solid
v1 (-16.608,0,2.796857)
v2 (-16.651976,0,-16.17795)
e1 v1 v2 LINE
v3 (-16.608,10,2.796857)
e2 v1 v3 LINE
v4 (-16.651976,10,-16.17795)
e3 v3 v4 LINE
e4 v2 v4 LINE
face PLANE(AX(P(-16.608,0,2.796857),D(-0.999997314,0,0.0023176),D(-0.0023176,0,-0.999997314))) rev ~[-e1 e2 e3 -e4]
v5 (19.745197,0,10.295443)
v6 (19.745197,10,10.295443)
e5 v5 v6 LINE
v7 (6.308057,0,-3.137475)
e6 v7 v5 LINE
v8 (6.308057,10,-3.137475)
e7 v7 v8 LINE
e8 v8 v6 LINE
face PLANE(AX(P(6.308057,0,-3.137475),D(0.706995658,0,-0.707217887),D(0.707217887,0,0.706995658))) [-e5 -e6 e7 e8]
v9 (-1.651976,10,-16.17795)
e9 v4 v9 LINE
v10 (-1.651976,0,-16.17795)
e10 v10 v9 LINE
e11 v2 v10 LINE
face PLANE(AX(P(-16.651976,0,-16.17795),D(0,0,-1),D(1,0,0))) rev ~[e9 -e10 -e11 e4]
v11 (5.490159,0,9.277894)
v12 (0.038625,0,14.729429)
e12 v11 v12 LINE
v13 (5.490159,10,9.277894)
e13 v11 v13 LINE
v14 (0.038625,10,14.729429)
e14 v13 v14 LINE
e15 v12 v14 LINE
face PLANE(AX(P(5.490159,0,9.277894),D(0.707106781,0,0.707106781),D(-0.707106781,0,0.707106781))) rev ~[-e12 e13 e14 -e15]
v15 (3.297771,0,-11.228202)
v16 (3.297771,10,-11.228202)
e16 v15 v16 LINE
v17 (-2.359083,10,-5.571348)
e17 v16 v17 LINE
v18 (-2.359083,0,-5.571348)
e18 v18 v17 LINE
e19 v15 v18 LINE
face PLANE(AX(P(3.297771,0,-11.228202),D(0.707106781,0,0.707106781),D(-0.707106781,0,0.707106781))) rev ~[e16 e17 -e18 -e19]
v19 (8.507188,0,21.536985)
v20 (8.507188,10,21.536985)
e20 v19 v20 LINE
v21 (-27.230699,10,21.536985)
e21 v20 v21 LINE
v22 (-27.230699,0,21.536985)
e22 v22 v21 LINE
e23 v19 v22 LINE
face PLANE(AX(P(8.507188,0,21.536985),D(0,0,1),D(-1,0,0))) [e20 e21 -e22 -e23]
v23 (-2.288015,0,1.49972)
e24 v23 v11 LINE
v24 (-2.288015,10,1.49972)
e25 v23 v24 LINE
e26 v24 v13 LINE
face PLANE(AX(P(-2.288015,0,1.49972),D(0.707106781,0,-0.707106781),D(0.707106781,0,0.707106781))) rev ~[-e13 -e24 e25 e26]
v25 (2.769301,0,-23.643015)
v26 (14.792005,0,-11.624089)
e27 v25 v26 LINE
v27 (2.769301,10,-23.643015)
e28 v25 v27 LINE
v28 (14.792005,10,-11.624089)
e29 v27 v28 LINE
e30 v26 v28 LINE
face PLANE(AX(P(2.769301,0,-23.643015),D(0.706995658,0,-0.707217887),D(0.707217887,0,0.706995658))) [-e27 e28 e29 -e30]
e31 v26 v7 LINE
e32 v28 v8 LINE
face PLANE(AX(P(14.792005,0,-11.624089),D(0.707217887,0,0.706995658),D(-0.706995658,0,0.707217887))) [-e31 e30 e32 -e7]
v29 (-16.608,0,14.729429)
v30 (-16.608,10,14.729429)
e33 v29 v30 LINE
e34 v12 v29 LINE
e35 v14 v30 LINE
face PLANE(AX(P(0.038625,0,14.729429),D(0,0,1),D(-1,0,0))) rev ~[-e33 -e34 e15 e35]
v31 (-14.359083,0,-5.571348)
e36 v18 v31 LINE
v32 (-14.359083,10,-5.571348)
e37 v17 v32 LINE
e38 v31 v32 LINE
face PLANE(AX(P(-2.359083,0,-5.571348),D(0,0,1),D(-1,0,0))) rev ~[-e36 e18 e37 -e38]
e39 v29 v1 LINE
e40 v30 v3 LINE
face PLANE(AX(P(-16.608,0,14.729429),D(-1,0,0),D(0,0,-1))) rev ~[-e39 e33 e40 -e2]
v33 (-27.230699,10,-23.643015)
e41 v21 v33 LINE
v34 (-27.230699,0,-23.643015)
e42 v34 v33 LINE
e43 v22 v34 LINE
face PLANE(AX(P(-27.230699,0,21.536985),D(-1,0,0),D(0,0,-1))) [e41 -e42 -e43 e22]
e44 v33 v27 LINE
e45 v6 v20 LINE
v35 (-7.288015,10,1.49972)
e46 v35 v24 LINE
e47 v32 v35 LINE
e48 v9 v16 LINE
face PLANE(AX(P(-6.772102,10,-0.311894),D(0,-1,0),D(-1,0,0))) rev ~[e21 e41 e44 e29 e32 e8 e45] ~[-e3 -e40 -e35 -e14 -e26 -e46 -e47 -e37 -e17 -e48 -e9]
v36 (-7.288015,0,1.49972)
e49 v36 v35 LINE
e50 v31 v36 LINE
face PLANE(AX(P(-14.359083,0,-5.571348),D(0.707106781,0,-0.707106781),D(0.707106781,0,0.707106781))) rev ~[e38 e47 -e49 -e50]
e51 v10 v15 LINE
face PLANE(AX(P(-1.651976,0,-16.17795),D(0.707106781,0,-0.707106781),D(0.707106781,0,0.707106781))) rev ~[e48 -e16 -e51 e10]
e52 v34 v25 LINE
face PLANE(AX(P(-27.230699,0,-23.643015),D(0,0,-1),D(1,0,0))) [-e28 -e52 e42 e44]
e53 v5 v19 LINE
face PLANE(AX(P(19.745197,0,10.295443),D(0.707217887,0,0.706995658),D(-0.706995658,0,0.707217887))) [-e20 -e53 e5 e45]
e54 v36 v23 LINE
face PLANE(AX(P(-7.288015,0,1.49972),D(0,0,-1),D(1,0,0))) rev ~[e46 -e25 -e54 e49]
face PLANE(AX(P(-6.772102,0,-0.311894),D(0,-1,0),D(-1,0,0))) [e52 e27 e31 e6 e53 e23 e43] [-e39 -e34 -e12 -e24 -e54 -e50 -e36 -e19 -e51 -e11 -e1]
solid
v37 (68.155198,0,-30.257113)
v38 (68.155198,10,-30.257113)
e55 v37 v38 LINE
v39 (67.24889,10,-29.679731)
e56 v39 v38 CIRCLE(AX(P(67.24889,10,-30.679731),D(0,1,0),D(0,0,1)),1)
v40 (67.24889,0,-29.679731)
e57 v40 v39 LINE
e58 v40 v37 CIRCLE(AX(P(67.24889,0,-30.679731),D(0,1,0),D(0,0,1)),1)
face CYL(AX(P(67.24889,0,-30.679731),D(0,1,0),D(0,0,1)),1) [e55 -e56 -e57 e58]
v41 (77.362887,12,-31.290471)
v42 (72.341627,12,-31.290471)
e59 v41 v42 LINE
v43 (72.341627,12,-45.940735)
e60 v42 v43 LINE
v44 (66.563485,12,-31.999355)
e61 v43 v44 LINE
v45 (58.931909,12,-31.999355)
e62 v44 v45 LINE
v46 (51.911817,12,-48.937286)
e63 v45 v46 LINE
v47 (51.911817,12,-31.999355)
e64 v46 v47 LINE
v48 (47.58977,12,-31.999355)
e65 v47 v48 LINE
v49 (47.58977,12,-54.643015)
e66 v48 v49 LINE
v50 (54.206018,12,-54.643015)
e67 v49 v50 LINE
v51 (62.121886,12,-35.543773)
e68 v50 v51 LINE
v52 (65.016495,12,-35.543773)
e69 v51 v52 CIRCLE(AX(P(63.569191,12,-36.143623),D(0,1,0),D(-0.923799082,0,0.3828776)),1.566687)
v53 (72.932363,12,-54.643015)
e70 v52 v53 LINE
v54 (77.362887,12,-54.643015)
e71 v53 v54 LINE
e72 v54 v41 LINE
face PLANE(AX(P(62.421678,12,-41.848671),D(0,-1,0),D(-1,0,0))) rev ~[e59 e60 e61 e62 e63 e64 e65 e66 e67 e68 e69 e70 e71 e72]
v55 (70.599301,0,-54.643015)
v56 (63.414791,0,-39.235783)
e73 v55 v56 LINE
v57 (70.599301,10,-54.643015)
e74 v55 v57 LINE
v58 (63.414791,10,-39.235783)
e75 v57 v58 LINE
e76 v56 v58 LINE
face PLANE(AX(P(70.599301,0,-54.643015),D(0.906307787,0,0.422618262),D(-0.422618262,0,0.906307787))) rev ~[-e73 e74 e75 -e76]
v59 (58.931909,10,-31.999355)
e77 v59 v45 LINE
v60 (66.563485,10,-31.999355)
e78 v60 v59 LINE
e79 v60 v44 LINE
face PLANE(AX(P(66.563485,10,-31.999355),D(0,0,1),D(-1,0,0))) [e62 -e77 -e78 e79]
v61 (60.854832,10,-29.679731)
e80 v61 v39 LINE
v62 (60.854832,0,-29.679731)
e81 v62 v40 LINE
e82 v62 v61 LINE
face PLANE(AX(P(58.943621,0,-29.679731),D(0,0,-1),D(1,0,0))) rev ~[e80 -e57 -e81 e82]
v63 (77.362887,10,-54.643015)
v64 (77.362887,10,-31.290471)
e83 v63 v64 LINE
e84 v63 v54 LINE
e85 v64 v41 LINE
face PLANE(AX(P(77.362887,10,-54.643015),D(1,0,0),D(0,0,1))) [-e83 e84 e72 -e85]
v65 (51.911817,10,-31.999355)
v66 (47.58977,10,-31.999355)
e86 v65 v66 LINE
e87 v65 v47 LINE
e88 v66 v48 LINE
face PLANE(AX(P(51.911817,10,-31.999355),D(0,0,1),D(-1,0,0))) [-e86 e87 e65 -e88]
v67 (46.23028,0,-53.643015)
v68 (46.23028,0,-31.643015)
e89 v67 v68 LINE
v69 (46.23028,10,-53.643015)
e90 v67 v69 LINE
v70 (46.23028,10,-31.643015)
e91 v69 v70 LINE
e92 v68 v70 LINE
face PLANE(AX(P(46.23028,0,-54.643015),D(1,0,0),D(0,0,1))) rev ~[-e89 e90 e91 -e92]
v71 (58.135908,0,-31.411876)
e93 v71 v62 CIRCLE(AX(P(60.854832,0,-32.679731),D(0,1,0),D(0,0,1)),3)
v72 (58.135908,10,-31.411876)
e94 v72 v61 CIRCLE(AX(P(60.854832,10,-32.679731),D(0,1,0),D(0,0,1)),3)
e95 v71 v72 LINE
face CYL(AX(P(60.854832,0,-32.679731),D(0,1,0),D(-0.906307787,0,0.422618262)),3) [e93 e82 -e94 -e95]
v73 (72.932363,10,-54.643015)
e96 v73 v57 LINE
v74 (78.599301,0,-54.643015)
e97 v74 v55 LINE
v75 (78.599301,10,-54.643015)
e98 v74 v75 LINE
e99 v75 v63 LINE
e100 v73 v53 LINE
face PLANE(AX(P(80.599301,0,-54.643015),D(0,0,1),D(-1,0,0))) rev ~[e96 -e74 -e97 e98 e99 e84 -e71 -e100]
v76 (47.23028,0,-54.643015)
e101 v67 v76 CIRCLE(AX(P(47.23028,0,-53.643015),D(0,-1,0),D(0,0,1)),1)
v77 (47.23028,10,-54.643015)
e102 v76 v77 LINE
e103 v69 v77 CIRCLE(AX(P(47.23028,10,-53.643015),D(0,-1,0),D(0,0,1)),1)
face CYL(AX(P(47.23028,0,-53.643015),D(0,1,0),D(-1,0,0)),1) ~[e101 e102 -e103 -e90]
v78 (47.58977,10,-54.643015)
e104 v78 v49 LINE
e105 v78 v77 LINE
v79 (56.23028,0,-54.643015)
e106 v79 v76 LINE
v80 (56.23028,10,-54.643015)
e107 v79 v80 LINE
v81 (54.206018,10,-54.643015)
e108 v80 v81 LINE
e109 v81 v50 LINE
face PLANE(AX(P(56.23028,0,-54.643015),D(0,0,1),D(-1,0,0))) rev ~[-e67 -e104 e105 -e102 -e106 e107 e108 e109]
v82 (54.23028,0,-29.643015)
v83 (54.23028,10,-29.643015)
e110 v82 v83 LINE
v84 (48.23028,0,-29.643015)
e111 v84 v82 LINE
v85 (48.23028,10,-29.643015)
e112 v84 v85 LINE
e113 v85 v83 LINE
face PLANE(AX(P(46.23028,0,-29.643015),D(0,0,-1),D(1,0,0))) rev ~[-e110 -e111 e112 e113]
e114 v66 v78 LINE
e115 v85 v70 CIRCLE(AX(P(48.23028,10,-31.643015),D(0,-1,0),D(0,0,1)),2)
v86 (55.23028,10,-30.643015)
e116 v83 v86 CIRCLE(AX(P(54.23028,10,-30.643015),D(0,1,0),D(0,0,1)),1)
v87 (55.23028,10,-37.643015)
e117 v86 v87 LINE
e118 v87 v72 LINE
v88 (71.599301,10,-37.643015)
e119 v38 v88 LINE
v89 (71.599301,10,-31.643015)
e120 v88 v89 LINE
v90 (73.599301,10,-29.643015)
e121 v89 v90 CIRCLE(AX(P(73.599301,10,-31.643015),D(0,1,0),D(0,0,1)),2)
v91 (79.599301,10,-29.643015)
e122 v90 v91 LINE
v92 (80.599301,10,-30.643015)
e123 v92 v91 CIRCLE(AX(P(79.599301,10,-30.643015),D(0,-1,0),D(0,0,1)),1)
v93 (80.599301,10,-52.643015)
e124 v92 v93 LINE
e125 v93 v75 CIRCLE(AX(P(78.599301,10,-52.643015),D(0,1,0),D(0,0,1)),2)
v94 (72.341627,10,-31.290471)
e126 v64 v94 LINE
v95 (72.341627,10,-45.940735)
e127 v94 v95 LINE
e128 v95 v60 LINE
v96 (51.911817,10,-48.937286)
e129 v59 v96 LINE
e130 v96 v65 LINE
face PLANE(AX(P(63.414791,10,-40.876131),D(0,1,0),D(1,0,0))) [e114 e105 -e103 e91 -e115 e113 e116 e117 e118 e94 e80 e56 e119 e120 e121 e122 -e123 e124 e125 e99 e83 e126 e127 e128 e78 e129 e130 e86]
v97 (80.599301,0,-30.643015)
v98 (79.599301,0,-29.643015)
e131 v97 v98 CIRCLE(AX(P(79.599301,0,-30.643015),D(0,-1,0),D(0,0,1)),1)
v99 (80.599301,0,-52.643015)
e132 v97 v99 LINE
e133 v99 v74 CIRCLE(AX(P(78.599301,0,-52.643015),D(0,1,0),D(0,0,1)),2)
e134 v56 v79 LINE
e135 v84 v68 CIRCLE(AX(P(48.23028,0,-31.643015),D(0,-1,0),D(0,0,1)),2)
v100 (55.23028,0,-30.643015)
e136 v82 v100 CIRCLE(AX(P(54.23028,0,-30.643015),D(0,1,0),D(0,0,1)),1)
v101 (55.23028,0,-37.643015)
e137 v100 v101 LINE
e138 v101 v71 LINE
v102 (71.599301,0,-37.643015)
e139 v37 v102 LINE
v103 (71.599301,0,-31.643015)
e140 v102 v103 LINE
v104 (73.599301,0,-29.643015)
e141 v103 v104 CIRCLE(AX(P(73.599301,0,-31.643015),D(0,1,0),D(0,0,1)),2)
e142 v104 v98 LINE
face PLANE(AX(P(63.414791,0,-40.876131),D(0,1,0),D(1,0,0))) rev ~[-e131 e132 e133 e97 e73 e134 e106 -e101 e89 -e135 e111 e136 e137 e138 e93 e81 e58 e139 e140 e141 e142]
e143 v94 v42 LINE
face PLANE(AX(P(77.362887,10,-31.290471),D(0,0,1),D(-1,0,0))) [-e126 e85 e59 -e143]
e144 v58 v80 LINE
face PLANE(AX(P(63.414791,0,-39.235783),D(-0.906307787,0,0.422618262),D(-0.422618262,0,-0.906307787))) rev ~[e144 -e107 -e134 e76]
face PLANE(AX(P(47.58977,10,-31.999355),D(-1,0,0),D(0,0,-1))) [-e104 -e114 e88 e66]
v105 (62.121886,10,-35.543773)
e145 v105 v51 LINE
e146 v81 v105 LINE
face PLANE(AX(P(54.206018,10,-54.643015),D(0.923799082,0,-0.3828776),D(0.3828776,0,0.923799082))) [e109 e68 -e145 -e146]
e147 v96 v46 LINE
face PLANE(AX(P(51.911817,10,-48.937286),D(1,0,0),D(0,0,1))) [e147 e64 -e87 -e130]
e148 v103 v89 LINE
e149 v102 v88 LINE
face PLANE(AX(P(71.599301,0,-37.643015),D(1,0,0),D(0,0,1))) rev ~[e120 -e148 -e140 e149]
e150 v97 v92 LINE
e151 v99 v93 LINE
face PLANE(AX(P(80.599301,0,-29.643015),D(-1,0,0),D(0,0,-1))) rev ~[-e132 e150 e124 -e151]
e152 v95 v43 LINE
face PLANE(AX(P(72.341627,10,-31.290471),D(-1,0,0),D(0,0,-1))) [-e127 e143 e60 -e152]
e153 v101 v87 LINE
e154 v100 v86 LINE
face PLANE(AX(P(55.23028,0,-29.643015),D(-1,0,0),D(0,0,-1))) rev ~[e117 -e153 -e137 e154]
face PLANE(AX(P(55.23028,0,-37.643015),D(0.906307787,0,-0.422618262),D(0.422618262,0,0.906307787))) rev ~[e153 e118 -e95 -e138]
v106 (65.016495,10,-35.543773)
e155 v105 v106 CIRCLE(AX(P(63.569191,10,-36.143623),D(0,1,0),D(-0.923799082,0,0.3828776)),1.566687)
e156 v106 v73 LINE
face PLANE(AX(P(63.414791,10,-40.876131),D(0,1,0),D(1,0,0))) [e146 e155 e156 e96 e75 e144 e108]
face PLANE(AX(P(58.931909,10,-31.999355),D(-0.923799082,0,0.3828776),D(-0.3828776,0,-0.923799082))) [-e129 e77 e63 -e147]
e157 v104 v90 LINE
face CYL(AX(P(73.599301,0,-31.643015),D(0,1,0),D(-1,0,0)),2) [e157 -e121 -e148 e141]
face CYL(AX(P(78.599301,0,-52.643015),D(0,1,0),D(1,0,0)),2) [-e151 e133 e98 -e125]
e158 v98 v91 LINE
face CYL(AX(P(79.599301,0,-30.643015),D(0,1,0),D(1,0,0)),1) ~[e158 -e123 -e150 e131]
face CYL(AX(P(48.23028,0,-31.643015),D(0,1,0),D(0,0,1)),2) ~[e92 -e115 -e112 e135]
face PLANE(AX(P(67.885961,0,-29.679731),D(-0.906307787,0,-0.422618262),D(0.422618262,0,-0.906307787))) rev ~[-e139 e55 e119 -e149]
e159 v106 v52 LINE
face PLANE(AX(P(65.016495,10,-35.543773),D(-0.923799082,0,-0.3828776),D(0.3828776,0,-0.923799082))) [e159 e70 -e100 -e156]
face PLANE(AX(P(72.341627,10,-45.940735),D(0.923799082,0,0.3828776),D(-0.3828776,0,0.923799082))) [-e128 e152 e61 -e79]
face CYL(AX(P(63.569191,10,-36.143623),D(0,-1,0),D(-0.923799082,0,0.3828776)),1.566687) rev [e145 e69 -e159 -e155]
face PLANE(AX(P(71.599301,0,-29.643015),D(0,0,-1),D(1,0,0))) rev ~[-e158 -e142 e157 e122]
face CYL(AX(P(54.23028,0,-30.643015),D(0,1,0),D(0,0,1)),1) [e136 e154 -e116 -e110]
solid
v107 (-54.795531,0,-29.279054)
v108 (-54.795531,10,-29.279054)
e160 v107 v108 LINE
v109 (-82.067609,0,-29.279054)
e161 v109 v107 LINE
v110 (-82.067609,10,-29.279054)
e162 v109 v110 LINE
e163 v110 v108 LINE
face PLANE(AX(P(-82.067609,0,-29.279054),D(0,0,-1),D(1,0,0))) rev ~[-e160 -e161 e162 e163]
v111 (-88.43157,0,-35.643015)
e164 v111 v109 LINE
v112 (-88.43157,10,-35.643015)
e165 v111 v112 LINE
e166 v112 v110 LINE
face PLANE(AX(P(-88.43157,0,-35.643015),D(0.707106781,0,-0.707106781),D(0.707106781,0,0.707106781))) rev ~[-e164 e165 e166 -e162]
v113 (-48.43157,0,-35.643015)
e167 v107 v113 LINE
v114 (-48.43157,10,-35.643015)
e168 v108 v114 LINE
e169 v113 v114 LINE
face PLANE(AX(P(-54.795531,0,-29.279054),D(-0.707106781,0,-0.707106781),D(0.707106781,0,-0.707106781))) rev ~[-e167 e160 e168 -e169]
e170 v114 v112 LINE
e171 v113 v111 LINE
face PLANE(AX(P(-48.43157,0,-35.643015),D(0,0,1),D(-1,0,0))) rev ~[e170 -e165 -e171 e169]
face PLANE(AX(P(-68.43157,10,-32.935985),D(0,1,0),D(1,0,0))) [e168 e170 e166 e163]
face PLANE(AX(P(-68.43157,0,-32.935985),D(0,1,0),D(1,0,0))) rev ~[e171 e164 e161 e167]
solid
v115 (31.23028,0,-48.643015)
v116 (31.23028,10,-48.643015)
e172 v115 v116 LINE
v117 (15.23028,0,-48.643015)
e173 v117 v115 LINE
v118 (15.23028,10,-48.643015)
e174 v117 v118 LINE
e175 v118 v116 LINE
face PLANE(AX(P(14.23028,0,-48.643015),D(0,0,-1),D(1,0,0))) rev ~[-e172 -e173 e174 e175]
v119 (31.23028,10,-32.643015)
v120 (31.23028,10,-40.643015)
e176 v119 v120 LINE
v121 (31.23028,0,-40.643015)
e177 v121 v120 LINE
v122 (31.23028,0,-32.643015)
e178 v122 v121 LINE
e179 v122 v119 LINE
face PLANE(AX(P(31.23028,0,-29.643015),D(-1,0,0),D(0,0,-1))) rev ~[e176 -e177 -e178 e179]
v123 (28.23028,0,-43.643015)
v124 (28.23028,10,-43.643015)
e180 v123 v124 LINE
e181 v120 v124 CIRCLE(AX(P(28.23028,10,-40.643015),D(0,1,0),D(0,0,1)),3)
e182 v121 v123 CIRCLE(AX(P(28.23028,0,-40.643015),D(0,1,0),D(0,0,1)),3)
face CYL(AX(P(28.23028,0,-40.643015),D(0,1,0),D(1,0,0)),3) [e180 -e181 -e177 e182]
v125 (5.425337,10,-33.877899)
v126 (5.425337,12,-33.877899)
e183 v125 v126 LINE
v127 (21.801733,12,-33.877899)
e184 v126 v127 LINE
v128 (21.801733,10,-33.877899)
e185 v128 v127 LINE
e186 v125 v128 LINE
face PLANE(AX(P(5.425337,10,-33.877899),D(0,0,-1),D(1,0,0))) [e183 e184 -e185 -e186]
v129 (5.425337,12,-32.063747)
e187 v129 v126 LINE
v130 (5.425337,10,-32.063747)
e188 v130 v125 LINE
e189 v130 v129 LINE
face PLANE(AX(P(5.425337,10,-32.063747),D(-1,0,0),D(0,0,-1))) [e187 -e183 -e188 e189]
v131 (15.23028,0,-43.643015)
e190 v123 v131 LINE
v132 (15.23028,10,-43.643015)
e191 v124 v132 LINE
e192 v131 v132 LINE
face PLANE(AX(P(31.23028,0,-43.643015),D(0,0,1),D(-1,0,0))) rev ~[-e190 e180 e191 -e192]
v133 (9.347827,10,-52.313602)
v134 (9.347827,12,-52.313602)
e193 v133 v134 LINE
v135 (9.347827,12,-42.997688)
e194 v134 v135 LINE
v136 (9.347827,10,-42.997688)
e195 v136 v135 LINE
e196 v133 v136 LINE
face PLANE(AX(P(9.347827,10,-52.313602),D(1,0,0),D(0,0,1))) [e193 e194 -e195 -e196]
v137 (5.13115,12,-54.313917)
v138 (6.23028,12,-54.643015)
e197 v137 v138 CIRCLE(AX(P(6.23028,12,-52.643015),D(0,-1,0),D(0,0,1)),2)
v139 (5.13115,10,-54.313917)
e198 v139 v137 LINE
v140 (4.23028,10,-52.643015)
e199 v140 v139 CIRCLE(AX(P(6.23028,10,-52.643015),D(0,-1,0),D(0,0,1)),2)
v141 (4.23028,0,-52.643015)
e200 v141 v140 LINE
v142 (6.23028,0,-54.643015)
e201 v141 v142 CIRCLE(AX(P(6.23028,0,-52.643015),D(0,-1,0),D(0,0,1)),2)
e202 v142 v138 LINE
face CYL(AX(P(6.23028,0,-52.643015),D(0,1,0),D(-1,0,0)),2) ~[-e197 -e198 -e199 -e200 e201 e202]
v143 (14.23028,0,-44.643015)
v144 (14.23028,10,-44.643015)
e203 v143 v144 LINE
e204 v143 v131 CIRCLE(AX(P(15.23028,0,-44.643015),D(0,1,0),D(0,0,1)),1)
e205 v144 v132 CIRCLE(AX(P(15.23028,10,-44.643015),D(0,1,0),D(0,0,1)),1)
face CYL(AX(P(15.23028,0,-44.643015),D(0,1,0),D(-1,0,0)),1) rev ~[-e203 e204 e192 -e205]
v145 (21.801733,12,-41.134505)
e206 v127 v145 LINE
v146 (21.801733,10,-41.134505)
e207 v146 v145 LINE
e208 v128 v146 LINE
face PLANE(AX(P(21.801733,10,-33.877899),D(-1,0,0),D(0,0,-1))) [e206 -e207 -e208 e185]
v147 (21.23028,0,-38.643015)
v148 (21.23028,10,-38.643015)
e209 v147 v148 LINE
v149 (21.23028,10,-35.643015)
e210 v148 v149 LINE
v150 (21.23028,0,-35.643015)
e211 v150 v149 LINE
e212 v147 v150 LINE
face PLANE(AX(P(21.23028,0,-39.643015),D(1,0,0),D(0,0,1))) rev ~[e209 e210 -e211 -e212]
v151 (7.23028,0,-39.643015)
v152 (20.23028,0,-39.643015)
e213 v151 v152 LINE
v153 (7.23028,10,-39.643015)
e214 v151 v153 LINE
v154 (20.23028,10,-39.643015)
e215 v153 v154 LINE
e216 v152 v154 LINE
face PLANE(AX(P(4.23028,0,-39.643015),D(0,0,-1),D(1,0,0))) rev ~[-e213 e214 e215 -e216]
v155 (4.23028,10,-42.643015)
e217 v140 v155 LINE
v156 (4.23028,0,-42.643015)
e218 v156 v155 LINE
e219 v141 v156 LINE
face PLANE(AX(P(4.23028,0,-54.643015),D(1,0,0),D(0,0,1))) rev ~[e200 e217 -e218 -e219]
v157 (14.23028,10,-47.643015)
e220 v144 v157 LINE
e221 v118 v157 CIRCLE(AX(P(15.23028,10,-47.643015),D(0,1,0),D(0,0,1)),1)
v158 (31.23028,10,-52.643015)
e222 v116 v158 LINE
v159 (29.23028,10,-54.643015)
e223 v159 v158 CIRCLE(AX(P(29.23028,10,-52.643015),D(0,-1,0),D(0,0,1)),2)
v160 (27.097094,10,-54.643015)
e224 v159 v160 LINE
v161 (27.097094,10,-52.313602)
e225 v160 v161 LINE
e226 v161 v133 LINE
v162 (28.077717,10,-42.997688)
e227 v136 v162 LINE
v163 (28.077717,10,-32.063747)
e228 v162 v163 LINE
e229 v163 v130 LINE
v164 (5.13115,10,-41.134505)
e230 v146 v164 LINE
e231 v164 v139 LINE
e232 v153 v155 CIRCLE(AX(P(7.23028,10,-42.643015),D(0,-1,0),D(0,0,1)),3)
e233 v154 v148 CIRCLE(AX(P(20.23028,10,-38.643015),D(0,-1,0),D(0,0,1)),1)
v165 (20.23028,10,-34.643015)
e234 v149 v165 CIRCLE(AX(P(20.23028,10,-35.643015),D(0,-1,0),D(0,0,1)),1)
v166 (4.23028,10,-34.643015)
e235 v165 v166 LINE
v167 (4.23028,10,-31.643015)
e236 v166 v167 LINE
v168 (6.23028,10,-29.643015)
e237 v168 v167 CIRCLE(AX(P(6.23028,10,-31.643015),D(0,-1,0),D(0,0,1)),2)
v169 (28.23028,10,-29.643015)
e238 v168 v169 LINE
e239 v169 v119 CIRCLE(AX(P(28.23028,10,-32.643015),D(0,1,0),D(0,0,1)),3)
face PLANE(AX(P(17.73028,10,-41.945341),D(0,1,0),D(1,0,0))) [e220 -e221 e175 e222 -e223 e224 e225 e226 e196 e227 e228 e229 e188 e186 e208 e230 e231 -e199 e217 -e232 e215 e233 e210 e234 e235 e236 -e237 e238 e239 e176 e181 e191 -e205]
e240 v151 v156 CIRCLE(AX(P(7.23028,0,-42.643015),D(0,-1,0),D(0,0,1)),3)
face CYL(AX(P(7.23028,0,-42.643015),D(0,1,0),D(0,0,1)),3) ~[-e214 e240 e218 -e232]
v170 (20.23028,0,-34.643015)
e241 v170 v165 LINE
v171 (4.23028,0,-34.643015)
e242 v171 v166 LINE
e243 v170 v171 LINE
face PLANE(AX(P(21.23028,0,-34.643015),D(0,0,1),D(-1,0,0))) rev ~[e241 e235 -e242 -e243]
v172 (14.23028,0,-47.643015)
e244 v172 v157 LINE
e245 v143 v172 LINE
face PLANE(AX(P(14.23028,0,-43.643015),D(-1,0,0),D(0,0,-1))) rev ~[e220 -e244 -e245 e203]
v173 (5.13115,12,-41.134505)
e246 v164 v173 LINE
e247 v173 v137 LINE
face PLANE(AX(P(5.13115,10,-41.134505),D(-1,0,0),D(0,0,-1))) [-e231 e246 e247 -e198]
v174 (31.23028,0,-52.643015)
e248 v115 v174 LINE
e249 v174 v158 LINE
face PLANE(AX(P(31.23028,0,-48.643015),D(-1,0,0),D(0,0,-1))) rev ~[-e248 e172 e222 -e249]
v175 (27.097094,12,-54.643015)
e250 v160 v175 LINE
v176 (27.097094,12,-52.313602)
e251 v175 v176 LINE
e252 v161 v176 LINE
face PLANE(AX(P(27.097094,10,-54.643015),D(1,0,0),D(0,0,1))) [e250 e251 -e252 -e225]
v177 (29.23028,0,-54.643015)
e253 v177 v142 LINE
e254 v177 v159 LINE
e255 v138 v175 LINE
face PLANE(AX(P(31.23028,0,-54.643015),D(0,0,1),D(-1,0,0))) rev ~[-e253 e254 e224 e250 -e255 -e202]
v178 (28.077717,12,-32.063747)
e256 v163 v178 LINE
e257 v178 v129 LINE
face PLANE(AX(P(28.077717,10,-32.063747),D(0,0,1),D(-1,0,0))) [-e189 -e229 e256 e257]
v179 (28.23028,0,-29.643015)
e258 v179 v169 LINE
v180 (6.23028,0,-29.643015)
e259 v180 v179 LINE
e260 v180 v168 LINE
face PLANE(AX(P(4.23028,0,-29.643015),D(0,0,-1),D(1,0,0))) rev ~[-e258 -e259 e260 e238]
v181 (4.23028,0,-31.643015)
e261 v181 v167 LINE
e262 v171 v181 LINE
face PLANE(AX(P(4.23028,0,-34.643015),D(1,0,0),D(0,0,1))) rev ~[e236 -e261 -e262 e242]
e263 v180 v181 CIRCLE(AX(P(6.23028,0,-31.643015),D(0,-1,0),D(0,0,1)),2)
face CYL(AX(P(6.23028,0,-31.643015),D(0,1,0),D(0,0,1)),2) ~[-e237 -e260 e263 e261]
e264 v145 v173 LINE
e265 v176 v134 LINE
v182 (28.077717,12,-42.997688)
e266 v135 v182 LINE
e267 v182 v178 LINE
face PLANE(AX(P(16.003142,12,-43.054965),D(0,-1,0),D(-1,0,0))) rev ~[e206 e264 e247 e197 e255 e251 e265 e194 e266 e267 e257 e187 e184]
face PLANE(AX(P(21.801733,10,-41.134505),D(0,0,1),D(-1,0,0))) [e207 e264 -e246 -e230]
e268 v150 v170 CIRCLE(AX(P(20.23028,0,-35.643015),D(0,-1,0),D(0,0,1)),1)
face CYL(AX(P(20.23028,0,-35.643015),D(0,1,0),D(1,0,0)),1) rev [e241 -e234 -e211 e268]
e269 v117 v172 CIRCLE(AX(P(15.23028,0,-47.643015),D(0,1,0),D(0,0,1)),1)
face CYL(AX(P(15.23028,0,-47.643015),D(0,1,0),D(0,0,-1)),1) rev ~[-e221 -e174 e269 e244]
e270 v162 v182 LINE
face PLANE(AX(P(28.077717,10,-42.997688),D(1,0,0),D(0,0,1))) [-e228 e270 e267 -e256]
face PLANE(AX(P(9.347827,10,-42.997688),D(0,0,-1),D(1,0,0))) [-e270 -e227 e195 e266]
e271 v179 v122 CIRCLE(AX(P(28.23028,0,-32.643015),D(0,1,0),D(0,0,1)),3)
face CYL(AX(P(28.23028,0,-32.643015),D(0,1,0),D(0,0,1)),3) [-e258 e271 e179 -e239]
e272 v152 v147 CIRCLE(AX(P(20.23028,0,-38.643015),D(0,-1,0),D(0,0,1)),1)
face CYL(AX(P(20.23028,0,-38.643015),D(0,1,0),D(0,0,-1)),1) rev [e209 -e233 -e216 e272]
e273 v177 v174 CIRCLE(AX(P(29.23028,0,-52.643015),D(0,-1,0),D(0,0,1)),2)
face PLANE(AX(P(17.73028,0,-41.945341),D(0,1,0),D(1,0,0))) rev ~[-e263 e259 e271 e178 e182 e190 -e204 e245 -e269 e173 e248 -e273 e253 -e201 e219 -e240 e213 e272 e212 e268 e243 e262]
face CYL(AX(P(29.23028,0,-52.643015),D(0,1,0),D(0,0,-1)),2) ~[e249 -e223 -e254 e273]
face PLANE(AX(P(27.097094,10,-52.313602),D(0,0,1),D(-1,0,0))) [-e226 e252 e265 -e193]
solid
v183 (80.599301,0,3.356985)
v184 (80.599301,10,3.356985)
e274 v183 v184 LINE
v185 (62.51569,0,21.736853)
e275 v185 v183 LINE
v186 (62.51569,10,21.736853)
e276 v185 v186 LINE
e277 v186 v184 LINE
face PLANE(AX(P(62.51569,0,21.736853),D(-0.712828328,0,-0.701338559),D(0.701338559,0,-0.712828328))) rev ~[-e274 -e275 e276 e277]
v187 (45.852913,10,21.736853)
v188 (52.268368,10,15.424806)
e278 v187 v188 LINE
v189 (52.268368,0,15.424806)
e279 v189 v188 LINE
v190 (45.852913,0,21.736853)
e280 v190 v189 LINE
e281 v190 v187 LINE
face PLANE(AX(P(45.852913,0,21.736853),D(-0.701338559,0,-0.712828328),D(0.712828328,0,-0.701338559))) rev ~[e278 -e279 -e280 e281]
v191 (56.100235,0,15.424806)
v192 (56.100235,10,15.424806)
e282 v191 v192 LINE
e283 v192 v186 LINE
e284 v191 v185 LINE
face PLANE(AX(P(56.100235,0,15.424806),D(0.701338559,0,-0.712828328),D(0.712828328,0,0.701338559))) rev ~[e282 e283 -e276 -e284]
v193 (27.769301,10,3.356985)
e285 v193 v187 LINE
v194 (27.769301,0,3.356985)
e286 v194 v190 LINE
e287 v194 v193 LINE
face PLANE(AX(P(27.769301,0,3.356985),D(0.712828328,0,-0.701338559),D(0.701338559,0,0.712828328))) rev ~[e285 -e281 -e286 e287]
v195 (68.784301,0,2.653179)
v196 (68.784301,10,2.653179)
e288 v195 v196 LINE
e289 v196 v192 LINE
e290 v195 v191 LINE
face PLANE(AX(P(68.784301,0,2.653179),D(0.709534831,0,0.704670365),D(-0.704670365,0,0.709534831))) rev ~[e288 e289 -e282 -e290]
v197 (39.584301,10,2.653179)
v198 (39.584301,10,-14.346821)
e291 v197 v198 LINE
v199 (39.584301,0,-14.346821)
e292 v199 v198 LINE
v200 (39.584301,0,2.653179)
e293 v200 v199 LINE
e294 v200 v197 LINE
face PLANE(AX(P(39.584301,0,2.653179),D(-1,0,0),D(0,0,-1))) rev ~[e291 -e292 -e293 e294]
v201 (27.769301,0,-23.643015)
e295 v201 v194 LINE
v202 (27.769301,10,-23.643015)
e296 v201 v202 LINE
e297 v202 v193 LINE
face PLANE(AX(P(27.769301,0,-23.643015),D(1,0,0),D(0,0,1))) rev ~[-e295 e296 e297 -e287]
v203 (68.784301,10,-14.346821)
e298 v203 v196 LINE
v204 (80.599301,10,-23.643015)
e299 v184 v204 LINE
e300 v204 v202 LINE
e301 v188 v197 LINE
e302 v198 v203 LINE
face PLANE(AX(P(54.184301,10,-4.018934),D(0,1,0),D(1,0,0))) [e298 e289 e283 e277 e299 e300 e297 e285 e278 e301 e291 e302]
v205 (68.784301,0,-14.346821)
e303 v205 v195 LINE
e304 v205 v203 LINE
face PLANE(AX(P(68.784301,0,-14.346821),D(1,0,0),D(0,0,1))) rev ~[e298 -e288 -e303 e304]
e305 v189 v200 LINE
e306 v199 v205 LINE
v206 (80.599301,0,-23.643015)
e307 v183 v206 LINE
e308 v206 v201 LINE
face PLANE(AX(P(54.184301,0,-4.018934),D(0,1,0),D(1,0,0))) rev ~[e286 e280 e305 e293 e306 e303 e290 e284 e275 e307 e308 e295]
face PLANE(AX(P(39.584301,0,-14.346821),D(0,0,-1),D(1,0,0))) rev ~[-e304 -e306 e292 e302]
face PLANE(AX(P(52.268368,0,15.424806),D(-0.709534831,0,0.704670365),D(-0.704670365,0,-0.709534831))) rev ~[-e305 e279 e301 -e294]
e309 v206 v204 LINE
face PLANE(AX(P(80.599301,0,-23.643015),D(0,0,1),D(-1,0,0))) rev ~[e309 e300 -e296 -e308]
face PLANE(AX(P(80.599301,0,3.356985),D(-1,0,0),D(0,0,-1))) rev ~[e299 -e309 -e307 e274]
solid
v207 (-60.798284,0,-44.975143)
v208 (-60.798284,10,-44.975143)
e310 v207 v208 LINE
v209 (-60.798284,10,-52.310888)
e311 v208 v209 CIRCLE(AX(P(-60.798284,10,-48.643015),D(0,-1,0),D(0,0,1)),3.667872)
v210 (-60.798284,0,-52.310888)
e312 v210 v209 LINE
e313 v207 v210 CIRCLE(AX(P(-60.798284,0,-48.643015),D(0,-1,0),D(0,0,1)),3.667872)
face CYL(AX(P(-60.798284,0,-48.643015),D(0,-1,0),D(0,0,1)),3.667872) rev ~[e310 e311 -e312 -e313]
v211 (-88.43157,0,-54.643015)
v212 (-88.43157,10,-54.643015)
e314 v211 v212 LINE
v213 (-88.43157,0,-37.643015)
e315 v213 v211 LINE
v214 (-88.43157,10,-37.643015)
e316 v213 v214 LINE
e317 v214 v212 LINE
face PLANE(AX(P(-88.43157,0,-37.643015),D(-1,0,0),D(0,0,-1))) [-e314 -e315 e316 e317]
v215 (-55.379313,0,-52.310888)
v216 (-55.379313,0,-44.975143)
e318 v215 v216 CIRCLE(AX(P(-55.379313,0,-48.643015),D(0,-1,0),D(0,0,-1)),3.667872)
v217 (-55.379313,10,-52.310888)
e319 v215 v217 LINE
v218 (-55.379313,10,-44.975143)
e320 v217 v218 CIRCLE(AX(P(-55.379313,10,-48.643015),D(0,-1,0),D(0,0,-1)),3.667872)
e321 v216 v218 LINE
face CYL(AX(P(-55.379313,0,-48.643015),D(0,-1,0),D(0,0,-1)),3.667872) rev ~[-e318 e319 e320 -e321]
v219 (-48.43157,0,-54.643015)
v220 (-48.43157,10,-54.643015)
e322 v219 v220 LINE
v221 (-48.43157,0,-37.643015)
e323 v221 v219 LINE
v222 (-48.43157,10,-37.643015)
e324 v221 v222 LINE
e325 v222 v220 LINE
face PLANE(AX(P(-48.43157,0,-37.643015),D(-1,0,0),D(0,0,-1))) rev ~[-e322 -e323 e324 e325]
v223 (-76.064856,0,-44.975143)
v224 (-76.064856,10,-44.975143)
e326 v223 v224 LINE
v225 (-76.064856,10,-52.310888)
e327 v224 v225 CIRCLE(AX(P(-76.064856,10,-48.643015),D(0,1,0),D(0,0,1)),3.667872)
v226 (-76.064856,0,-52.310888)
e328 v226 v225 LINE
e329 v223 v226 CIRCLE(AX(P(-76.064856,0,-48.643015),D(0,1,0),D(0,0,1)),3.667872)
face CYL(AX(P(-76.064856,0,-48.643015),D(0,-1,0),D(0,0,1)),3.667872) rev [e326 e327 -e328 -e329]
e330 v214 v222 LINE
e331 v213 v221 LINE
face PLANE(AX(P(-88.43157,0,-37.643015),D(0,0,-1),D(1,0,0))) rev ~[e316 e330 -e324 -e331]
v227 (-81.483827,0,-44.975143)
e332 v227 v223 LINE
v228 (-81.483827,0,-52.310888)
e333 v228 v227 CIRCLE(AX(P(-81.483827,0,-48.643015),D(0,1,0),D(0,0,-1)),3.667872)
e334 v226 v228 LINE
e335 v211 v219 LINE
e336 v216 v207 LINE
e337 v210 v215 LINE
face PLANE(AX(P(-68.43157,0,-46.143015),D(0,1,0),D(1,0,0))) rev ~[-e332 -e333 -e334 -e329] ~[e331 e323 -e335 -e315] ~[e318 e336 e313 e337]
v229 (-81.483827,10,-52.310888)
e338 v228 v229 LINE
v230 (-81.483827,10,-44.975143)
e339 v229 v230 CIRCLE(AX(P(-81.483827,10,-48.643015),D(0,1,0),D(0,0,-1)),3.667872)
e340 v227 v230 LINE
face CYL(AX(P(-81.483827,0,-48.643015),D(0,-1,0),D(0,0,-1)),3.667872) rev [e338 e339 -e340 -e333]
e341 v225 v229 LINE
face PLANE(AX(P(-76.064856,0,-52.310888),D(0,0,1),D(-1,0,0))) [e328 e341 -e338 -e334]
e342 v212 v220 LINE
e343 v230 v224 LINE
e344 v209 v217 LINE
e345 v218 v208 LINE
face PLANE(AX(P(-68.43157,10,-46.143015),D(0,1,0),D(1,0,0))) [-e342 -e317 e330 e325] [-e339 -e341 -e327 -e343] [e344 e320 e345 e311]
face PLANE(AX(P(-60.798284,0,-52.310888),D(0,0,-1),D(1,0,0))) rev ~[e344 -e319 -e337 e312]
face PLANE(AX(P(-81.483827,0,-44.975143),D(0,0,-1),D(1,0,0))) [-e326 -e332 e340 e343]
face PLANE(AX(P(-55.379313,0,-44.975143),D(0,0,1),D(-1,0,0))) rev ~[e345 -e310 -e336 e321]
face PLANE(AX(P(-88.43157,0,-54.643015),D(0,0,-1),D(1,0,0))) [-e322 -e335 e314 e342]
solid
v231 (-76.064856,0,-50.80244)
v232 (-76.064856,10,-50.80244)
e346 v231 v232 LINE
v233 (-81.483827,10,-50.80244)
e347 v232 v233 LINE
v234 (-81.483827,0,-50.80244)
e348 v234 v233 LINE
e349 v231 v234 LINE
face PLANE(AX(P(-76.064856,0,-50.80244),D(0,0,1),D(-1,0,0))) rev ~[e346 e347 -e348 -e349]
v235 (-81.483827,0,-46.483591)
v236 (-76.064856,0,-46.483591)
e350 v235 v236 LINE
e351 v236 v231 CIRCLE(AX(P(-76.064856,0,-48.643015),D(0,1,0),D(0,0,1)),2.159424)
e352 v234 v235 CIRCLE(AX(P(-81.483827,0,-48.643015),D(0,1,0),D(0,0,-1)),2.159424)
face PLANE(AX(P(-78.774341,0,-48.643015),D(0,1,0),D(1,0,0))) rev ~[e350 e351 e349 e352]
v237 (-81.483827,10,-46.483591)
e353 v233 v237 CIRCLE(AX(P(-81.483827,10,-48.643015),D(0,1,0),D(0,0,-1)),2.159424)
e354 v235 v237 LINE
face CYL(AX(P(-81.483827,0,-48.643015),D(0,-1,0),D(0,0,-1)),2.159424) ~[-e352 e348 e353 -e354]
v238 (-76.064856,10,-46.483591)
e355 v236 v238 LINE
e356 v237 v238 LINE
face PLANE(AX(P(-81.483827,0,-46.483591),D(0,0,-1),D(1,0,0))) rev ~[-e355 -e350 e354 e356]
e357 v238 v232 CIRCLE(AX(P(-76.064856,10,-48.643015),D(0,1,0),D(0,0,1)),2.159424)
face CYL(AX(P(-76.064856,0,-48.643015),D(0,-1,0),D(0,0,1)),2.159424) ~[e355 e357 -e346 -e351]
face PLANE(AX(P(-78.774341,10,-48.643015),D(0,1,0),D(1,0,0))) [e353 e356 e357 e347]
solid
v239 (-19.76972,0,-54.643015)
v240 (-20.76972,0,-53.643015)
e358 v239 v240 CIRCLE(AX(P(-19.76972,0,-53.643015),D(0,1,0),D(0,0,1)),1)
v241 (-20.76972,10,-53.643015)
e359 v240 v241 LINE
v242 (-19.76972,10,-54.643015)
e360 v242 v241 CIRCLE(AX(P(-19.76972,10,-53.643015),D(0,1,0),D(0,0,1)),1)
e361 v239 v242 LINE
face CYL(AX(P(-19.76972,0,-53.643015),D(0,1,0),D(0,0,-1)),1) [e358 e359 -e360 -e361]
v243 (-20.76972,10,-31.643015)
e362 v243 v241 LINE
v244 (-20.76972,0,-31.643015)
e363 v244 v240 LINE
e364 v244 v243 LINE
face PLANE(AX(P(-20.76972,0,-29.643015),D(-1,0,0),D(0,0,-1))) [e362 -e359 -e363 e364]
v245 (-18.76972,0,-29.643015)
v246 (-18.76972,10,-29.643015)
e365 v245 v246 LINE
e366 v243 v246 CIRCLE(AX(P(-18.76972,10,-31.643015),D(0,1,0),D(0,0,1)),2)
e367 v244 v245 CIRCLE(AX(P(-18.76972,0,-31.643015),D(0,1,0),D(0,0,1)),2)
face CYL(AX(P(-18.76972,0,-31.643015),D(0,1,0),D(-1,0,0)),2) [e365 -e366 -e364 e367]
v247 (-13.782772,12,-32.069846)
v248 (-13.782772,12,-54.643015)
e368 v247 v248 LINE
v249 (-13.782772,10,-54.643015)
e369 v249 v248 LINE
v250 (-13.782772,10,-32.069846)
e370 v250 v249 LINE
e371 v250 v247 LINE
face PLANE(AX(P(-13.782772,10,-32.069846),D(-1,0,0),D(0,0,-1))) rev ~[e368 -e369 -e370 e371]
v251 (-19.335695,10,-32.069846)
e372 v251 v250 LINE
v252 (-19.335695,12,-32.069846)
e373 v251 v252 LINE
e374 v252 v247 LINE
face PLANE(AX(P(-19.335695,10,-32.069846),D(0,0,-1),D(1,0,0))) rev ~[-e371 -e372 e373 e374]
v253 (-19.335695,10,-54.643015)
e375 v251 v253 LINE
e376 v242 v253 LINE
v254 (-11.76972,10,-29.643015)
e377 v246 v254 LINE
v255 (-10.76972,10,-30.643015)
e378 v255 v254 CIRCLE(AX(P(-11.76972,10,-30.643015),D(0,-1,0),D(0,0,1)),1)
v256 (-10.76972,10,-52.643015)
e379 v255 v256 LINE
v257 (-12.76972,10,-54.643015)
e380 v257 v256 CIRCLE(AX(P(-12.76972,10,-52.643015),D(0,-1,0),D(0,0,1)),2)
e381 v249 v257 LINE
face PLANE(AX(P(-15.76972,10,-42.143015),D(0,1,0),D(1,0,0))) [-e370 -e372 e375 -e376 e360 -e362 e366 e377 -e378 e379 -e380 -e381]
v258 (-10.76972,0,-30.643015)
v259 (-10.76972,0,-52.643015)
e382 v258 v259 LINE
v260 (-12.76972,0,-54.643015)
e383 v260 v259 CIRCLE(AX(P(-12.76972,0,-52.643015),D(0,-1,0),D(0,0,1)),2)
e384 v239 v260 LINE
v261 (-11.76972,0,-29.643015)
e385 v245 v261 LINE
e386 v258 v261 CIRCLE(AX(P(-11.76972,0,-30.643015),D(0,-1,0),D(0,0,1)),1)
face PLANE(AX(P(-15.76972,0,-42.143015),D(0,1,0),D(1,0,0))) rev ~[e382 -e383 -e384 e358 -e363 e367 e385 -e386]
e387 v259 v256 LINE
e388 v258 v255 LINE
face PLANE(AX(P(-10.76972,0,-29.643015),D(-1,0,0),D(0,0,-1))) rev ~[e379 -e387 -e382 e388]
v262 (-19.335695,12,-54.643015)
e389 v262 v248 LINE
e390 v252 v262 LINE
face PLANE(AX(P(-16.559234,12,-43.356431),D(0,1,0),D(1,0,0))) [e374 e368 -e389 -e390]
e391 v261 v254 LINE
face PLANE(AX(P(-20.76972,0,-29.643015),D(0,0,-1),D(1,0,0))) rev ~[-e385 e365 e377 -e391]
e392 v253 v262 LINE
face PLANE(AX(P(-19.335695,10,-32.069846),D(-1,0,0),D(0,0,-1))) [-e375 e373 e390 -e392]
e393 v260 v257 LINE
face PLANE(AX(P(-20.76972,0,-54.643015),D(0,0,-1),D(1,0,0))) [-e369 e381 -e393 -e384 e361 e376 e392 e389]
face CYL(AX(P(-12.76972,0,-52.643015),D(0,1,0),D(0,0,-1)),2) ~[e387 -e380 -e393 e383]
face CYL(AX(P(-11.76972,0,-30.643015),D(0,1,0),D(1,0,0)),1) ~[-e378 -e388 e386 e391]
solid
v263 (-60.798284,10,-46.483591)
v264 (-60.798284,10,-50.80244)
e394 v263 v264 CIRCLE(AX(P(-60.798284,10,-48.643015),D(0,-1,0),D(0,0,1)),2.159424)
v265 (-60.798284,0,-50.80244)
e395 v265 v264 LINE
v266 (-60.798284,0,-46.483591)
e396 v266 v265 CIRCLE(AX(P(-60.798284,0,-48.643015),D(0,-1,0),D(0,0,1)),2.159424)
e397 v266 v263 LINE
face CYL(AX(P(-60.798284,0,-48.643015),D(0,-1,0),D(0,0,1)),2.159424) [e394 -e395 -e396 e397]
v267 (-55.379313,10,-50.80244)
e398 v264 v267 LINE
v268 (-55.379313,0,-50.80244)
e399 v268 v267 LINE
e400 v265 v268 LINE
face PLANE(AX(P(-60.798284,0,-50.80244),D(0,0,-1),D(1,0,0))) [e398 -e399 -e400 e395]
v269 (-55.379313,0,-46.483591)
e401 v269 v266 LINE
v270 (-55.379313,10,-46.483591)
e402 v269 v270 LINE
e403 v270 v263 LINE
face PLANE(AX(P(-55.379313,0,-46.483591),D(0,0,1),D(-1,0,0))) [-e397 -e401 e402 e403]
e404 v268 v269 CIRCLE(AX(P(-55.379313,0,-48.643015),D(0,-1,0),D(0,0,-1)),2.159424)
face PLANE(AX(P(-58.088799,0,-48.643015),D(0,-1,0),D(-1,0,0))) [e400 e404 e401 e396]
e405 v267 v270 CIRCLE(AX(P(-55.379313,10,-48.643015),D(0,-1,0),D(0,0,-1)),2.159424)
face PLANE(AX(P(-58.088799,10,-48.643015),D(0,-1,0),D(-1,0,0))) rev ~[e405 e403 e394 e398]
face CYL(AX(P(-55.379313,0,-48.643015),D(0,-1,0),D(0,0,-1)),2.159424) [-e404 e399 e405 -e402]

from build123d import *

# Parameters (mm, degrees)
BOSS_EXTRUDE1_DEPTH   = 10
BOSS_EXTRUDE1_2_DEPTH = 10
BOSS_EXTRUDE1_3_DEPTH = 10
BOSS_EXTRUDE1_4_DEPTH = 10
SKETCH2_W             = 10
SKETCH2_H             = 25
BOSS_EXTRUDE1_5_DEPTH = 10
BOSS_EXTRUDE1_6_DEPTH = 10
SKETCH2_W_2           = 40
SKETCH2_H_2           = 17
BOSS_EXTRUDE1_7_DEPTH = 10
BOSS_EXTRUDE1_8_DEPTH = 10
BOSS_EXTRUDE1_9_DEPTH = 10
SKETCH3_W             = 5.552922641
SKETCH3_H             = 22.573169384
BOSS_EXTRUDE2_DEPTH   = 2
BOSS_EXTRUDE3_DEPTH   = 2
BOSS_EXTRUDE4_DEPTH   = 2
FILLET1_R             = 3
FILLET2_R             = 2
FILLET3_R             = 3
FILLET4_R             = 1
FILLET5_R             = 3
FILLET6_R             = 2
FILLET7_R             = 1
FILLET8_R             = 2
FILLET9_R             = 2
FILLET10_R            = 1


with BuildPart() as part:
    # Sketch2 → Boss-Extrude1 (new body)
    with BuildSketch(Plane(origin=(0, 0, 0), x_dir=(1, 0, 0), z_dir=(0, 1, 0))):
        Polygon((8.507188085, -21.536984564), (-27.230698714, -21.536984564), (-27.230698714, 23.643015436), (2.769301286, 23.643015436), (14.792005366, 11.624089252), (6.308057472, 3.137474608), (19.745197326, -10.295442892), align=None)
        Polygon((5.490159492, -9.277894373), (0.038625294, -14.729428571), (-16.608, -14.729428571), (-16.608, -2.796857143), (-16.651976131, 16.17794975), (-1.651976131, 16.17794975), (3.297771337, 11.228202282), (-2.359082913, 5.571348032), (-14.359082913, 5.571348032), (-7.288015101, -1.49971978), (-2.288015101, -1.49971978), align=None, mode=Mode.SUBTRACT)
    extrude(amount=BOSS_EXTRUDE1_DEPTH)


with BuildPart() as body_2:
    # Sketch2 → Boss-Extrude1 2 (new body)
    with BuildSketch(Plane(origin=(0, 0, 0), x_dir=(1, 0, 0), z_dir=(0, 1, 0))):
        Polygon((52.268367855, -15.424806221), (39.584301286, -2.653179258), (39.584301286, 14.346820742), (68.784301286, 14.346820742), (68.784301286, -2.653179258), (56.100234718, -15.424806221), (62.515689668, -21.736853256), (80.599301286, -3.356984564), (80.599301286, 23.643015436), (27.769301286, 23.643015436), (27.769301286, -3.356984564), (45.852912904, -21.736853256), align=None)
    extrude(amount=BOSS_EXTRUDE1_2_DEPTH)


with BuildPart() as body_3:
    # Sketch2 → Boss-Extrude1 3 (new body)
    with BuildSketch(Plane(origin=(0, 0, 0), x_dir=(1, 0, 0), z_dir=(0, 1, 0))):
        Polygon((71.599301286, 29.643015436), (80.599301286, 29.643015436), (80.599301286, 54.643015436), (70.599301286, 54.643015436), (63.414790837, 39.235783056), (56.230280387, 54.643015436), (46.230280387, 54.643015436), (46.230280387, 29.643015436), (55.230280387, 29.643015436), (55.230280387, 37.643015436), (58.943621004, 29.679730786), (63.38596067, 29.679730786), (63.414790837, 29.679730786), (67.88596067, 29.679730786), (71.599301286, 37.643015436), align=None)
    extrude(amount=BOSS_EXTRUDE1_3_DEPTH)

    # Sketch5 → Boss-Extrude4 (add)
    with BuildSketch(Plane(origin=(0, 10, 0), x_dir=(1, 0, 0), z_dir=(0, 1, 0))):
        with BuildLine():
            Line((47.589769515, 31.999354556), (47.589769515, 54.643015436))
            Line((47.589769515, 54.643015436), (54.206017768, 54.643015436))
            Line((54.206017768, 54.643015436), (62.121886213, 35.543773263))
            ThreePointArc((62.121886213, 35.543773263), (63.569190519, 34.576935425), (65.016494824, 35.543773263))
            Line((65.016494824, 35.543773263), (72.93236327, 54.643015436))
            Line((72.93236327, 54.643015436), (77.362886653, 54.643015436))
            Line((77.362886653, 54.643015436), (77.362886653, 31.290470814))
            Line((77.362886653, 31.290470814), (72.341626818, 31.290470814))
            Line((72.341626818, 31.290470814), (72.341626818, 45.940734803))
            Line((72.341626818, 45.940734803), (66.563484891, 31.999354556))
            Line((66.563484891, 31.999354556), (58.931909377, 31.999354556))
            Line((58.931909377, 31.999354556), (51.911817177, 48.9372865))
            Line((51.911817177, 48.9372865), (51.911817177, 31.999354556))
            Line((51.911817177, 31.999354556), (47.589769515, 31.999354556))
        make_face()
    extrude(amount=BOSS_EXTRUDE4_DEPTH)

    # Fillet5
    fillet5_edges = [body_3.edges().sort_by_distance(p)[0] for p in [
        (58.943621004, 5, -29.679730786),
    ]]
    fillet(fillet5_edges, radius=FILLET5_R)

    # Fillet6
    fillet6_edges = [body_3.edges().sort_by_distance(p)[0] for p in [
        (80.599301286, 5, -54.643015436),
        (71.599301286, 5, -29.643015436),
        (46.230280387, 5, -29.643015436),
    ]]
    fillet(fillet6_edges, radius=FILLET6_R)

    # Fillet7
    fillet7_edges = [body_3.edges().sort_by_distance(p)[0] for p in [
        (80.599301286, 5, -29.643015436),
        (67.88596067, 5, -29.679730786),
        (55.230280387, 5, -29.643015436),
        (46.230280387, 5, -54.643015436),
    ]]
    fillet(fillet7_edges, radius=FILLET7_R)


with BuildPart() as body_4:
    # Sketch2 → Boss-Extrude1 4 (new body)
    with BuildSketch(Plane(origin=(0, 0, 0), x_dir=(1, 0, 0), z_dir=(0, 1, 0))):
        Polygon((4.230280387, 29.643015436), (31.230280387, 29.643015436), (31.230280387, 43.643015436), (14.230280387, 43.643015436), (14.230280387, 48.643015436), (31.230280387, 48.643015436), (31.230280387, 54.643015436), (4.230280387, 54.643015436), (4.230280387, 39.643015436), (21.230280387, 39.643015436), (21.230280387, 34.643015436), (4.230280387, 34.643015436), align=None)
    extrude(amount=BOSS_EXTRUDE1_4_DEPTH)

    # Sketch4 → Boss-Extrude3 (add)
    with BuildSketch(Plane(origin=(0, 10, 0), x_dir=(1, 0, 0), z_dir=(0, 1, 0))):
        Polygon((27.097094219, 54.643015436), (27.097094219, 52.313601998), (9.347826807, 52.313601998), (9.347826807, 42.997688163), (28.077716728, 42.997688163), (28.077716728, 32.063747189), (5.425336772, 32.063747189), (5.425336772, 33.87789883), (21.801732671, 33.87789883), (21.801732671, 41.134505396), (5.131150019, 41.134505396), (5.131150019, 54.643015436), align=None)
    extrude(amount=BOSS_EXTRUDE3_DEPTH)

    # Fillet1
    fillet1_edges = [body_4.edges().sort_by_distance(p)[0] for p in [
        (31.230280387, 5, -43.643015436),
        (31.230280387, 5, -29.643015436),
    ]]
    fillet(fillet1_edges, radius=FILLET1_R)

    # Fillet2
    fillet2_edges = [body_4.edges().sort_by_distance(p)[0] for p in [
        (4.230280387, 5, -54.643015436),
        (4.230280387, 5, -29.643015436),
        (31.230280387, 5, -54.643015436),
    ]]
    fillet(fillet2_edges, radius=FILLET2_R)

    # Fillet3
    fillet3_edges = [body_4.edges().sort_by_distance(p)[0] for p in [
        (4.230280387, 5, -39.643015436),
    ]]
    fillet(fillet3_edges, radius=FILLET3_R)

    # Fillet4
    fillet4_edges = [body_4.edges().sort_by_distance(p)[0] for p in [
        (21.230280387, 5, -34.643015436),
        (21.230280387, 5, -39.643015436),
        (14.230280387, 5, -48.643015436),
        (14.230280387, 5, -43.643015436),
    ]]
    fillet(fillet4_edges, radius=FILLET4_R)


with BuildPart() as body_5:
    # Sketch2 → Boss-Extrude1 5 (new body)
    with BuildSketch(Plane(origin=(0, 0, 0), x_dir=(1, 0, 0), z_dir=(0, 1, 0))):
        with Locations((-15.769719613, 42.143015436)):
            Rectangle(SKETCH2_W, SKETCH2_H)
    extrude(amount=BOSS_EXTRUDE1_5_DEPTH)

    # Sketch3 → Boss-Extrude2 (add)
    with BuildSketch(Plane(origin=(0, 10, 0), x_dir=(1, 0, 0), z_dir=(0, 1, 0))):
        with Locations((-16.559233642, 43.356430744)):
            Rectangle(SKETCH3_W, SKETCH3_H)
    extrude(amount=BOSS_EXTRUDE2_DEPTH)

    # Fillet8
    fillet8_edges = [body_5.edges().sort_by_distance(p)[0] for p in [
        (-20.769719613, 5, -29.643015436),
    ]]
    fillet(fillet8_edges, radius=FILLET8_R)

    # Fillet9
    fillet9_edges = [body_5.edges().sort_by_distance(p)[0] for p in [
        (-10.769719613, 5, -54.643015436),
    ]]
    fillet(fillet9_edges, radius=FILLET9_R)

    # Fillet10
    fillet10_edges = [body_5.edges().sort_by_distance(p)[0] for p in [
        (-10.769719613, 5, -29.643015436),
        (-20.769719613, 5, -54.643015436),
    ]]
    fillet(fillet10_edges, radius=FILLET10_R)


with BuildPart() as body_6:
    # Sketch2 → Boss-Extrude1 6 (new body)
    with BuildSketch(Plane(origin=(0, 0, 0), x_dir=(1, 0, 0), z_dir=(0, 1, 0))):
        Polygon((-88.431569856, 35.643015436), (-82.067608825, 29.279054405), (-54.795530886, 29.279054405), (-48.431569856, 35.643015436), align=None)
    extrude(amount=BOSS_EXTRUDE1_6_DEPTH)


with BuildPart() as body_7:
    # Sketch2 → Boss-Extrude1 7 (new body)
    with BuildSketch(Plane(origin=(0, 0, 0), x_dir=(1, 0, 0), z_dir=(0, 1, 0))):
        with Locations((-68.431569856, 46.143015436)):
            Rectangle(SKETCH2_W_2, SKETCH2_H_2)
        with BuildLine():
            ThreePointArc((-76.064855636, 44.975142941), (-72.396983141, 48.643015436), (-76.064855636, 52.310887931))
            Line((-76.064855636, 52.310887931), (-81.483826522, 52.310887931))
            ThreePointArc((-81.483826522, 52.310887931), (-85.151699017, 48.643015436), (-81.483826522, 44.975142941))
            Line((-81.483826522, 44.975142941), (-76.064855636, 44.975142941))
        make_face(mode=Mode.SUBTRACT)
        with BuildLine():
            Line((-55.379313189, 44.975142941), (-60.798284075, 44.975142941))
            ThreePointArc((-60.798284075, 44.975142941), (-64.46615657, 48.643015436), (-60.798284075, 52.310887931))
            Line((-60.798284075, 52.310887931), (-55.379313189, 52.310887931))
            ThreePointArc((-55.379313189, 52.310887931), (-51.711440694, 48.643015436), (-55.379313189, 44.975142941))
        make_face(mode=Mode.SUBTRACT)
    extrude(amount=BOSS_EXTRUDE1_7_DEPTH)


with BuildPart() as body_8:
    # Sketch2 → Boss-Extrude1 8 (new body)
    with BuildSketch(Plane(origin=(0, 0, 0), x_dir=(1, 0, 0), z_dir=(0, 1, 0))):
        with BuildLine():
            Line((-81.483826522, 46.483591027), (-76.064855636, 46.483591027))
            ThreePointArc((-76.064855636, 46.483591027), (-73.905431227, 48.643015436), (-76.064855636, 50.802439846))
            Line((-76.064855636, 50.802439846), (-81.483826522, 50.802439846))
            ThreePointArc((-81.483826522, 50.802439846), (-83.643250932, 48.643015436), (-81.483826522, 46.483591027))
        make_face()
    extrude(amount=BOSS_EXTRUDE1_8_DEPTH)


with BuildPart() as body_9:
    # Sketch2 → Boss-Extrude1 9 (new body)
    with BuildSketch(Plane(origin=(0, 0, 0), x_dir=(1, 0, 0), z_dir=(0, 1, 0))):
        with BuildLine():
            ThreePointArc((-60.798284075, 46.483591027), (-62.957708484, 48.643015436), (-60.798284075, 50.802439846))
            Line((-60.798284075, 50.802439846), (-55.379313189, 50.802439846))
            ThreePointArc((-55.379313189, 50.802439846), (-53.21988878, 48.643015436), (-55.379313189, 46.483591027))
            Line((-55.379313189, 46.483591027), (-60.798284075, 46.483591027))
        make_face()
    extrude(amount=BOSS_EXTRUDE1_9_DEPTH)


solid = Compound([part.part, body_2.part, body_3.part, body_4.part, body_5.part, body_6.part, body_7.part, body_8.part, body_9.part])
